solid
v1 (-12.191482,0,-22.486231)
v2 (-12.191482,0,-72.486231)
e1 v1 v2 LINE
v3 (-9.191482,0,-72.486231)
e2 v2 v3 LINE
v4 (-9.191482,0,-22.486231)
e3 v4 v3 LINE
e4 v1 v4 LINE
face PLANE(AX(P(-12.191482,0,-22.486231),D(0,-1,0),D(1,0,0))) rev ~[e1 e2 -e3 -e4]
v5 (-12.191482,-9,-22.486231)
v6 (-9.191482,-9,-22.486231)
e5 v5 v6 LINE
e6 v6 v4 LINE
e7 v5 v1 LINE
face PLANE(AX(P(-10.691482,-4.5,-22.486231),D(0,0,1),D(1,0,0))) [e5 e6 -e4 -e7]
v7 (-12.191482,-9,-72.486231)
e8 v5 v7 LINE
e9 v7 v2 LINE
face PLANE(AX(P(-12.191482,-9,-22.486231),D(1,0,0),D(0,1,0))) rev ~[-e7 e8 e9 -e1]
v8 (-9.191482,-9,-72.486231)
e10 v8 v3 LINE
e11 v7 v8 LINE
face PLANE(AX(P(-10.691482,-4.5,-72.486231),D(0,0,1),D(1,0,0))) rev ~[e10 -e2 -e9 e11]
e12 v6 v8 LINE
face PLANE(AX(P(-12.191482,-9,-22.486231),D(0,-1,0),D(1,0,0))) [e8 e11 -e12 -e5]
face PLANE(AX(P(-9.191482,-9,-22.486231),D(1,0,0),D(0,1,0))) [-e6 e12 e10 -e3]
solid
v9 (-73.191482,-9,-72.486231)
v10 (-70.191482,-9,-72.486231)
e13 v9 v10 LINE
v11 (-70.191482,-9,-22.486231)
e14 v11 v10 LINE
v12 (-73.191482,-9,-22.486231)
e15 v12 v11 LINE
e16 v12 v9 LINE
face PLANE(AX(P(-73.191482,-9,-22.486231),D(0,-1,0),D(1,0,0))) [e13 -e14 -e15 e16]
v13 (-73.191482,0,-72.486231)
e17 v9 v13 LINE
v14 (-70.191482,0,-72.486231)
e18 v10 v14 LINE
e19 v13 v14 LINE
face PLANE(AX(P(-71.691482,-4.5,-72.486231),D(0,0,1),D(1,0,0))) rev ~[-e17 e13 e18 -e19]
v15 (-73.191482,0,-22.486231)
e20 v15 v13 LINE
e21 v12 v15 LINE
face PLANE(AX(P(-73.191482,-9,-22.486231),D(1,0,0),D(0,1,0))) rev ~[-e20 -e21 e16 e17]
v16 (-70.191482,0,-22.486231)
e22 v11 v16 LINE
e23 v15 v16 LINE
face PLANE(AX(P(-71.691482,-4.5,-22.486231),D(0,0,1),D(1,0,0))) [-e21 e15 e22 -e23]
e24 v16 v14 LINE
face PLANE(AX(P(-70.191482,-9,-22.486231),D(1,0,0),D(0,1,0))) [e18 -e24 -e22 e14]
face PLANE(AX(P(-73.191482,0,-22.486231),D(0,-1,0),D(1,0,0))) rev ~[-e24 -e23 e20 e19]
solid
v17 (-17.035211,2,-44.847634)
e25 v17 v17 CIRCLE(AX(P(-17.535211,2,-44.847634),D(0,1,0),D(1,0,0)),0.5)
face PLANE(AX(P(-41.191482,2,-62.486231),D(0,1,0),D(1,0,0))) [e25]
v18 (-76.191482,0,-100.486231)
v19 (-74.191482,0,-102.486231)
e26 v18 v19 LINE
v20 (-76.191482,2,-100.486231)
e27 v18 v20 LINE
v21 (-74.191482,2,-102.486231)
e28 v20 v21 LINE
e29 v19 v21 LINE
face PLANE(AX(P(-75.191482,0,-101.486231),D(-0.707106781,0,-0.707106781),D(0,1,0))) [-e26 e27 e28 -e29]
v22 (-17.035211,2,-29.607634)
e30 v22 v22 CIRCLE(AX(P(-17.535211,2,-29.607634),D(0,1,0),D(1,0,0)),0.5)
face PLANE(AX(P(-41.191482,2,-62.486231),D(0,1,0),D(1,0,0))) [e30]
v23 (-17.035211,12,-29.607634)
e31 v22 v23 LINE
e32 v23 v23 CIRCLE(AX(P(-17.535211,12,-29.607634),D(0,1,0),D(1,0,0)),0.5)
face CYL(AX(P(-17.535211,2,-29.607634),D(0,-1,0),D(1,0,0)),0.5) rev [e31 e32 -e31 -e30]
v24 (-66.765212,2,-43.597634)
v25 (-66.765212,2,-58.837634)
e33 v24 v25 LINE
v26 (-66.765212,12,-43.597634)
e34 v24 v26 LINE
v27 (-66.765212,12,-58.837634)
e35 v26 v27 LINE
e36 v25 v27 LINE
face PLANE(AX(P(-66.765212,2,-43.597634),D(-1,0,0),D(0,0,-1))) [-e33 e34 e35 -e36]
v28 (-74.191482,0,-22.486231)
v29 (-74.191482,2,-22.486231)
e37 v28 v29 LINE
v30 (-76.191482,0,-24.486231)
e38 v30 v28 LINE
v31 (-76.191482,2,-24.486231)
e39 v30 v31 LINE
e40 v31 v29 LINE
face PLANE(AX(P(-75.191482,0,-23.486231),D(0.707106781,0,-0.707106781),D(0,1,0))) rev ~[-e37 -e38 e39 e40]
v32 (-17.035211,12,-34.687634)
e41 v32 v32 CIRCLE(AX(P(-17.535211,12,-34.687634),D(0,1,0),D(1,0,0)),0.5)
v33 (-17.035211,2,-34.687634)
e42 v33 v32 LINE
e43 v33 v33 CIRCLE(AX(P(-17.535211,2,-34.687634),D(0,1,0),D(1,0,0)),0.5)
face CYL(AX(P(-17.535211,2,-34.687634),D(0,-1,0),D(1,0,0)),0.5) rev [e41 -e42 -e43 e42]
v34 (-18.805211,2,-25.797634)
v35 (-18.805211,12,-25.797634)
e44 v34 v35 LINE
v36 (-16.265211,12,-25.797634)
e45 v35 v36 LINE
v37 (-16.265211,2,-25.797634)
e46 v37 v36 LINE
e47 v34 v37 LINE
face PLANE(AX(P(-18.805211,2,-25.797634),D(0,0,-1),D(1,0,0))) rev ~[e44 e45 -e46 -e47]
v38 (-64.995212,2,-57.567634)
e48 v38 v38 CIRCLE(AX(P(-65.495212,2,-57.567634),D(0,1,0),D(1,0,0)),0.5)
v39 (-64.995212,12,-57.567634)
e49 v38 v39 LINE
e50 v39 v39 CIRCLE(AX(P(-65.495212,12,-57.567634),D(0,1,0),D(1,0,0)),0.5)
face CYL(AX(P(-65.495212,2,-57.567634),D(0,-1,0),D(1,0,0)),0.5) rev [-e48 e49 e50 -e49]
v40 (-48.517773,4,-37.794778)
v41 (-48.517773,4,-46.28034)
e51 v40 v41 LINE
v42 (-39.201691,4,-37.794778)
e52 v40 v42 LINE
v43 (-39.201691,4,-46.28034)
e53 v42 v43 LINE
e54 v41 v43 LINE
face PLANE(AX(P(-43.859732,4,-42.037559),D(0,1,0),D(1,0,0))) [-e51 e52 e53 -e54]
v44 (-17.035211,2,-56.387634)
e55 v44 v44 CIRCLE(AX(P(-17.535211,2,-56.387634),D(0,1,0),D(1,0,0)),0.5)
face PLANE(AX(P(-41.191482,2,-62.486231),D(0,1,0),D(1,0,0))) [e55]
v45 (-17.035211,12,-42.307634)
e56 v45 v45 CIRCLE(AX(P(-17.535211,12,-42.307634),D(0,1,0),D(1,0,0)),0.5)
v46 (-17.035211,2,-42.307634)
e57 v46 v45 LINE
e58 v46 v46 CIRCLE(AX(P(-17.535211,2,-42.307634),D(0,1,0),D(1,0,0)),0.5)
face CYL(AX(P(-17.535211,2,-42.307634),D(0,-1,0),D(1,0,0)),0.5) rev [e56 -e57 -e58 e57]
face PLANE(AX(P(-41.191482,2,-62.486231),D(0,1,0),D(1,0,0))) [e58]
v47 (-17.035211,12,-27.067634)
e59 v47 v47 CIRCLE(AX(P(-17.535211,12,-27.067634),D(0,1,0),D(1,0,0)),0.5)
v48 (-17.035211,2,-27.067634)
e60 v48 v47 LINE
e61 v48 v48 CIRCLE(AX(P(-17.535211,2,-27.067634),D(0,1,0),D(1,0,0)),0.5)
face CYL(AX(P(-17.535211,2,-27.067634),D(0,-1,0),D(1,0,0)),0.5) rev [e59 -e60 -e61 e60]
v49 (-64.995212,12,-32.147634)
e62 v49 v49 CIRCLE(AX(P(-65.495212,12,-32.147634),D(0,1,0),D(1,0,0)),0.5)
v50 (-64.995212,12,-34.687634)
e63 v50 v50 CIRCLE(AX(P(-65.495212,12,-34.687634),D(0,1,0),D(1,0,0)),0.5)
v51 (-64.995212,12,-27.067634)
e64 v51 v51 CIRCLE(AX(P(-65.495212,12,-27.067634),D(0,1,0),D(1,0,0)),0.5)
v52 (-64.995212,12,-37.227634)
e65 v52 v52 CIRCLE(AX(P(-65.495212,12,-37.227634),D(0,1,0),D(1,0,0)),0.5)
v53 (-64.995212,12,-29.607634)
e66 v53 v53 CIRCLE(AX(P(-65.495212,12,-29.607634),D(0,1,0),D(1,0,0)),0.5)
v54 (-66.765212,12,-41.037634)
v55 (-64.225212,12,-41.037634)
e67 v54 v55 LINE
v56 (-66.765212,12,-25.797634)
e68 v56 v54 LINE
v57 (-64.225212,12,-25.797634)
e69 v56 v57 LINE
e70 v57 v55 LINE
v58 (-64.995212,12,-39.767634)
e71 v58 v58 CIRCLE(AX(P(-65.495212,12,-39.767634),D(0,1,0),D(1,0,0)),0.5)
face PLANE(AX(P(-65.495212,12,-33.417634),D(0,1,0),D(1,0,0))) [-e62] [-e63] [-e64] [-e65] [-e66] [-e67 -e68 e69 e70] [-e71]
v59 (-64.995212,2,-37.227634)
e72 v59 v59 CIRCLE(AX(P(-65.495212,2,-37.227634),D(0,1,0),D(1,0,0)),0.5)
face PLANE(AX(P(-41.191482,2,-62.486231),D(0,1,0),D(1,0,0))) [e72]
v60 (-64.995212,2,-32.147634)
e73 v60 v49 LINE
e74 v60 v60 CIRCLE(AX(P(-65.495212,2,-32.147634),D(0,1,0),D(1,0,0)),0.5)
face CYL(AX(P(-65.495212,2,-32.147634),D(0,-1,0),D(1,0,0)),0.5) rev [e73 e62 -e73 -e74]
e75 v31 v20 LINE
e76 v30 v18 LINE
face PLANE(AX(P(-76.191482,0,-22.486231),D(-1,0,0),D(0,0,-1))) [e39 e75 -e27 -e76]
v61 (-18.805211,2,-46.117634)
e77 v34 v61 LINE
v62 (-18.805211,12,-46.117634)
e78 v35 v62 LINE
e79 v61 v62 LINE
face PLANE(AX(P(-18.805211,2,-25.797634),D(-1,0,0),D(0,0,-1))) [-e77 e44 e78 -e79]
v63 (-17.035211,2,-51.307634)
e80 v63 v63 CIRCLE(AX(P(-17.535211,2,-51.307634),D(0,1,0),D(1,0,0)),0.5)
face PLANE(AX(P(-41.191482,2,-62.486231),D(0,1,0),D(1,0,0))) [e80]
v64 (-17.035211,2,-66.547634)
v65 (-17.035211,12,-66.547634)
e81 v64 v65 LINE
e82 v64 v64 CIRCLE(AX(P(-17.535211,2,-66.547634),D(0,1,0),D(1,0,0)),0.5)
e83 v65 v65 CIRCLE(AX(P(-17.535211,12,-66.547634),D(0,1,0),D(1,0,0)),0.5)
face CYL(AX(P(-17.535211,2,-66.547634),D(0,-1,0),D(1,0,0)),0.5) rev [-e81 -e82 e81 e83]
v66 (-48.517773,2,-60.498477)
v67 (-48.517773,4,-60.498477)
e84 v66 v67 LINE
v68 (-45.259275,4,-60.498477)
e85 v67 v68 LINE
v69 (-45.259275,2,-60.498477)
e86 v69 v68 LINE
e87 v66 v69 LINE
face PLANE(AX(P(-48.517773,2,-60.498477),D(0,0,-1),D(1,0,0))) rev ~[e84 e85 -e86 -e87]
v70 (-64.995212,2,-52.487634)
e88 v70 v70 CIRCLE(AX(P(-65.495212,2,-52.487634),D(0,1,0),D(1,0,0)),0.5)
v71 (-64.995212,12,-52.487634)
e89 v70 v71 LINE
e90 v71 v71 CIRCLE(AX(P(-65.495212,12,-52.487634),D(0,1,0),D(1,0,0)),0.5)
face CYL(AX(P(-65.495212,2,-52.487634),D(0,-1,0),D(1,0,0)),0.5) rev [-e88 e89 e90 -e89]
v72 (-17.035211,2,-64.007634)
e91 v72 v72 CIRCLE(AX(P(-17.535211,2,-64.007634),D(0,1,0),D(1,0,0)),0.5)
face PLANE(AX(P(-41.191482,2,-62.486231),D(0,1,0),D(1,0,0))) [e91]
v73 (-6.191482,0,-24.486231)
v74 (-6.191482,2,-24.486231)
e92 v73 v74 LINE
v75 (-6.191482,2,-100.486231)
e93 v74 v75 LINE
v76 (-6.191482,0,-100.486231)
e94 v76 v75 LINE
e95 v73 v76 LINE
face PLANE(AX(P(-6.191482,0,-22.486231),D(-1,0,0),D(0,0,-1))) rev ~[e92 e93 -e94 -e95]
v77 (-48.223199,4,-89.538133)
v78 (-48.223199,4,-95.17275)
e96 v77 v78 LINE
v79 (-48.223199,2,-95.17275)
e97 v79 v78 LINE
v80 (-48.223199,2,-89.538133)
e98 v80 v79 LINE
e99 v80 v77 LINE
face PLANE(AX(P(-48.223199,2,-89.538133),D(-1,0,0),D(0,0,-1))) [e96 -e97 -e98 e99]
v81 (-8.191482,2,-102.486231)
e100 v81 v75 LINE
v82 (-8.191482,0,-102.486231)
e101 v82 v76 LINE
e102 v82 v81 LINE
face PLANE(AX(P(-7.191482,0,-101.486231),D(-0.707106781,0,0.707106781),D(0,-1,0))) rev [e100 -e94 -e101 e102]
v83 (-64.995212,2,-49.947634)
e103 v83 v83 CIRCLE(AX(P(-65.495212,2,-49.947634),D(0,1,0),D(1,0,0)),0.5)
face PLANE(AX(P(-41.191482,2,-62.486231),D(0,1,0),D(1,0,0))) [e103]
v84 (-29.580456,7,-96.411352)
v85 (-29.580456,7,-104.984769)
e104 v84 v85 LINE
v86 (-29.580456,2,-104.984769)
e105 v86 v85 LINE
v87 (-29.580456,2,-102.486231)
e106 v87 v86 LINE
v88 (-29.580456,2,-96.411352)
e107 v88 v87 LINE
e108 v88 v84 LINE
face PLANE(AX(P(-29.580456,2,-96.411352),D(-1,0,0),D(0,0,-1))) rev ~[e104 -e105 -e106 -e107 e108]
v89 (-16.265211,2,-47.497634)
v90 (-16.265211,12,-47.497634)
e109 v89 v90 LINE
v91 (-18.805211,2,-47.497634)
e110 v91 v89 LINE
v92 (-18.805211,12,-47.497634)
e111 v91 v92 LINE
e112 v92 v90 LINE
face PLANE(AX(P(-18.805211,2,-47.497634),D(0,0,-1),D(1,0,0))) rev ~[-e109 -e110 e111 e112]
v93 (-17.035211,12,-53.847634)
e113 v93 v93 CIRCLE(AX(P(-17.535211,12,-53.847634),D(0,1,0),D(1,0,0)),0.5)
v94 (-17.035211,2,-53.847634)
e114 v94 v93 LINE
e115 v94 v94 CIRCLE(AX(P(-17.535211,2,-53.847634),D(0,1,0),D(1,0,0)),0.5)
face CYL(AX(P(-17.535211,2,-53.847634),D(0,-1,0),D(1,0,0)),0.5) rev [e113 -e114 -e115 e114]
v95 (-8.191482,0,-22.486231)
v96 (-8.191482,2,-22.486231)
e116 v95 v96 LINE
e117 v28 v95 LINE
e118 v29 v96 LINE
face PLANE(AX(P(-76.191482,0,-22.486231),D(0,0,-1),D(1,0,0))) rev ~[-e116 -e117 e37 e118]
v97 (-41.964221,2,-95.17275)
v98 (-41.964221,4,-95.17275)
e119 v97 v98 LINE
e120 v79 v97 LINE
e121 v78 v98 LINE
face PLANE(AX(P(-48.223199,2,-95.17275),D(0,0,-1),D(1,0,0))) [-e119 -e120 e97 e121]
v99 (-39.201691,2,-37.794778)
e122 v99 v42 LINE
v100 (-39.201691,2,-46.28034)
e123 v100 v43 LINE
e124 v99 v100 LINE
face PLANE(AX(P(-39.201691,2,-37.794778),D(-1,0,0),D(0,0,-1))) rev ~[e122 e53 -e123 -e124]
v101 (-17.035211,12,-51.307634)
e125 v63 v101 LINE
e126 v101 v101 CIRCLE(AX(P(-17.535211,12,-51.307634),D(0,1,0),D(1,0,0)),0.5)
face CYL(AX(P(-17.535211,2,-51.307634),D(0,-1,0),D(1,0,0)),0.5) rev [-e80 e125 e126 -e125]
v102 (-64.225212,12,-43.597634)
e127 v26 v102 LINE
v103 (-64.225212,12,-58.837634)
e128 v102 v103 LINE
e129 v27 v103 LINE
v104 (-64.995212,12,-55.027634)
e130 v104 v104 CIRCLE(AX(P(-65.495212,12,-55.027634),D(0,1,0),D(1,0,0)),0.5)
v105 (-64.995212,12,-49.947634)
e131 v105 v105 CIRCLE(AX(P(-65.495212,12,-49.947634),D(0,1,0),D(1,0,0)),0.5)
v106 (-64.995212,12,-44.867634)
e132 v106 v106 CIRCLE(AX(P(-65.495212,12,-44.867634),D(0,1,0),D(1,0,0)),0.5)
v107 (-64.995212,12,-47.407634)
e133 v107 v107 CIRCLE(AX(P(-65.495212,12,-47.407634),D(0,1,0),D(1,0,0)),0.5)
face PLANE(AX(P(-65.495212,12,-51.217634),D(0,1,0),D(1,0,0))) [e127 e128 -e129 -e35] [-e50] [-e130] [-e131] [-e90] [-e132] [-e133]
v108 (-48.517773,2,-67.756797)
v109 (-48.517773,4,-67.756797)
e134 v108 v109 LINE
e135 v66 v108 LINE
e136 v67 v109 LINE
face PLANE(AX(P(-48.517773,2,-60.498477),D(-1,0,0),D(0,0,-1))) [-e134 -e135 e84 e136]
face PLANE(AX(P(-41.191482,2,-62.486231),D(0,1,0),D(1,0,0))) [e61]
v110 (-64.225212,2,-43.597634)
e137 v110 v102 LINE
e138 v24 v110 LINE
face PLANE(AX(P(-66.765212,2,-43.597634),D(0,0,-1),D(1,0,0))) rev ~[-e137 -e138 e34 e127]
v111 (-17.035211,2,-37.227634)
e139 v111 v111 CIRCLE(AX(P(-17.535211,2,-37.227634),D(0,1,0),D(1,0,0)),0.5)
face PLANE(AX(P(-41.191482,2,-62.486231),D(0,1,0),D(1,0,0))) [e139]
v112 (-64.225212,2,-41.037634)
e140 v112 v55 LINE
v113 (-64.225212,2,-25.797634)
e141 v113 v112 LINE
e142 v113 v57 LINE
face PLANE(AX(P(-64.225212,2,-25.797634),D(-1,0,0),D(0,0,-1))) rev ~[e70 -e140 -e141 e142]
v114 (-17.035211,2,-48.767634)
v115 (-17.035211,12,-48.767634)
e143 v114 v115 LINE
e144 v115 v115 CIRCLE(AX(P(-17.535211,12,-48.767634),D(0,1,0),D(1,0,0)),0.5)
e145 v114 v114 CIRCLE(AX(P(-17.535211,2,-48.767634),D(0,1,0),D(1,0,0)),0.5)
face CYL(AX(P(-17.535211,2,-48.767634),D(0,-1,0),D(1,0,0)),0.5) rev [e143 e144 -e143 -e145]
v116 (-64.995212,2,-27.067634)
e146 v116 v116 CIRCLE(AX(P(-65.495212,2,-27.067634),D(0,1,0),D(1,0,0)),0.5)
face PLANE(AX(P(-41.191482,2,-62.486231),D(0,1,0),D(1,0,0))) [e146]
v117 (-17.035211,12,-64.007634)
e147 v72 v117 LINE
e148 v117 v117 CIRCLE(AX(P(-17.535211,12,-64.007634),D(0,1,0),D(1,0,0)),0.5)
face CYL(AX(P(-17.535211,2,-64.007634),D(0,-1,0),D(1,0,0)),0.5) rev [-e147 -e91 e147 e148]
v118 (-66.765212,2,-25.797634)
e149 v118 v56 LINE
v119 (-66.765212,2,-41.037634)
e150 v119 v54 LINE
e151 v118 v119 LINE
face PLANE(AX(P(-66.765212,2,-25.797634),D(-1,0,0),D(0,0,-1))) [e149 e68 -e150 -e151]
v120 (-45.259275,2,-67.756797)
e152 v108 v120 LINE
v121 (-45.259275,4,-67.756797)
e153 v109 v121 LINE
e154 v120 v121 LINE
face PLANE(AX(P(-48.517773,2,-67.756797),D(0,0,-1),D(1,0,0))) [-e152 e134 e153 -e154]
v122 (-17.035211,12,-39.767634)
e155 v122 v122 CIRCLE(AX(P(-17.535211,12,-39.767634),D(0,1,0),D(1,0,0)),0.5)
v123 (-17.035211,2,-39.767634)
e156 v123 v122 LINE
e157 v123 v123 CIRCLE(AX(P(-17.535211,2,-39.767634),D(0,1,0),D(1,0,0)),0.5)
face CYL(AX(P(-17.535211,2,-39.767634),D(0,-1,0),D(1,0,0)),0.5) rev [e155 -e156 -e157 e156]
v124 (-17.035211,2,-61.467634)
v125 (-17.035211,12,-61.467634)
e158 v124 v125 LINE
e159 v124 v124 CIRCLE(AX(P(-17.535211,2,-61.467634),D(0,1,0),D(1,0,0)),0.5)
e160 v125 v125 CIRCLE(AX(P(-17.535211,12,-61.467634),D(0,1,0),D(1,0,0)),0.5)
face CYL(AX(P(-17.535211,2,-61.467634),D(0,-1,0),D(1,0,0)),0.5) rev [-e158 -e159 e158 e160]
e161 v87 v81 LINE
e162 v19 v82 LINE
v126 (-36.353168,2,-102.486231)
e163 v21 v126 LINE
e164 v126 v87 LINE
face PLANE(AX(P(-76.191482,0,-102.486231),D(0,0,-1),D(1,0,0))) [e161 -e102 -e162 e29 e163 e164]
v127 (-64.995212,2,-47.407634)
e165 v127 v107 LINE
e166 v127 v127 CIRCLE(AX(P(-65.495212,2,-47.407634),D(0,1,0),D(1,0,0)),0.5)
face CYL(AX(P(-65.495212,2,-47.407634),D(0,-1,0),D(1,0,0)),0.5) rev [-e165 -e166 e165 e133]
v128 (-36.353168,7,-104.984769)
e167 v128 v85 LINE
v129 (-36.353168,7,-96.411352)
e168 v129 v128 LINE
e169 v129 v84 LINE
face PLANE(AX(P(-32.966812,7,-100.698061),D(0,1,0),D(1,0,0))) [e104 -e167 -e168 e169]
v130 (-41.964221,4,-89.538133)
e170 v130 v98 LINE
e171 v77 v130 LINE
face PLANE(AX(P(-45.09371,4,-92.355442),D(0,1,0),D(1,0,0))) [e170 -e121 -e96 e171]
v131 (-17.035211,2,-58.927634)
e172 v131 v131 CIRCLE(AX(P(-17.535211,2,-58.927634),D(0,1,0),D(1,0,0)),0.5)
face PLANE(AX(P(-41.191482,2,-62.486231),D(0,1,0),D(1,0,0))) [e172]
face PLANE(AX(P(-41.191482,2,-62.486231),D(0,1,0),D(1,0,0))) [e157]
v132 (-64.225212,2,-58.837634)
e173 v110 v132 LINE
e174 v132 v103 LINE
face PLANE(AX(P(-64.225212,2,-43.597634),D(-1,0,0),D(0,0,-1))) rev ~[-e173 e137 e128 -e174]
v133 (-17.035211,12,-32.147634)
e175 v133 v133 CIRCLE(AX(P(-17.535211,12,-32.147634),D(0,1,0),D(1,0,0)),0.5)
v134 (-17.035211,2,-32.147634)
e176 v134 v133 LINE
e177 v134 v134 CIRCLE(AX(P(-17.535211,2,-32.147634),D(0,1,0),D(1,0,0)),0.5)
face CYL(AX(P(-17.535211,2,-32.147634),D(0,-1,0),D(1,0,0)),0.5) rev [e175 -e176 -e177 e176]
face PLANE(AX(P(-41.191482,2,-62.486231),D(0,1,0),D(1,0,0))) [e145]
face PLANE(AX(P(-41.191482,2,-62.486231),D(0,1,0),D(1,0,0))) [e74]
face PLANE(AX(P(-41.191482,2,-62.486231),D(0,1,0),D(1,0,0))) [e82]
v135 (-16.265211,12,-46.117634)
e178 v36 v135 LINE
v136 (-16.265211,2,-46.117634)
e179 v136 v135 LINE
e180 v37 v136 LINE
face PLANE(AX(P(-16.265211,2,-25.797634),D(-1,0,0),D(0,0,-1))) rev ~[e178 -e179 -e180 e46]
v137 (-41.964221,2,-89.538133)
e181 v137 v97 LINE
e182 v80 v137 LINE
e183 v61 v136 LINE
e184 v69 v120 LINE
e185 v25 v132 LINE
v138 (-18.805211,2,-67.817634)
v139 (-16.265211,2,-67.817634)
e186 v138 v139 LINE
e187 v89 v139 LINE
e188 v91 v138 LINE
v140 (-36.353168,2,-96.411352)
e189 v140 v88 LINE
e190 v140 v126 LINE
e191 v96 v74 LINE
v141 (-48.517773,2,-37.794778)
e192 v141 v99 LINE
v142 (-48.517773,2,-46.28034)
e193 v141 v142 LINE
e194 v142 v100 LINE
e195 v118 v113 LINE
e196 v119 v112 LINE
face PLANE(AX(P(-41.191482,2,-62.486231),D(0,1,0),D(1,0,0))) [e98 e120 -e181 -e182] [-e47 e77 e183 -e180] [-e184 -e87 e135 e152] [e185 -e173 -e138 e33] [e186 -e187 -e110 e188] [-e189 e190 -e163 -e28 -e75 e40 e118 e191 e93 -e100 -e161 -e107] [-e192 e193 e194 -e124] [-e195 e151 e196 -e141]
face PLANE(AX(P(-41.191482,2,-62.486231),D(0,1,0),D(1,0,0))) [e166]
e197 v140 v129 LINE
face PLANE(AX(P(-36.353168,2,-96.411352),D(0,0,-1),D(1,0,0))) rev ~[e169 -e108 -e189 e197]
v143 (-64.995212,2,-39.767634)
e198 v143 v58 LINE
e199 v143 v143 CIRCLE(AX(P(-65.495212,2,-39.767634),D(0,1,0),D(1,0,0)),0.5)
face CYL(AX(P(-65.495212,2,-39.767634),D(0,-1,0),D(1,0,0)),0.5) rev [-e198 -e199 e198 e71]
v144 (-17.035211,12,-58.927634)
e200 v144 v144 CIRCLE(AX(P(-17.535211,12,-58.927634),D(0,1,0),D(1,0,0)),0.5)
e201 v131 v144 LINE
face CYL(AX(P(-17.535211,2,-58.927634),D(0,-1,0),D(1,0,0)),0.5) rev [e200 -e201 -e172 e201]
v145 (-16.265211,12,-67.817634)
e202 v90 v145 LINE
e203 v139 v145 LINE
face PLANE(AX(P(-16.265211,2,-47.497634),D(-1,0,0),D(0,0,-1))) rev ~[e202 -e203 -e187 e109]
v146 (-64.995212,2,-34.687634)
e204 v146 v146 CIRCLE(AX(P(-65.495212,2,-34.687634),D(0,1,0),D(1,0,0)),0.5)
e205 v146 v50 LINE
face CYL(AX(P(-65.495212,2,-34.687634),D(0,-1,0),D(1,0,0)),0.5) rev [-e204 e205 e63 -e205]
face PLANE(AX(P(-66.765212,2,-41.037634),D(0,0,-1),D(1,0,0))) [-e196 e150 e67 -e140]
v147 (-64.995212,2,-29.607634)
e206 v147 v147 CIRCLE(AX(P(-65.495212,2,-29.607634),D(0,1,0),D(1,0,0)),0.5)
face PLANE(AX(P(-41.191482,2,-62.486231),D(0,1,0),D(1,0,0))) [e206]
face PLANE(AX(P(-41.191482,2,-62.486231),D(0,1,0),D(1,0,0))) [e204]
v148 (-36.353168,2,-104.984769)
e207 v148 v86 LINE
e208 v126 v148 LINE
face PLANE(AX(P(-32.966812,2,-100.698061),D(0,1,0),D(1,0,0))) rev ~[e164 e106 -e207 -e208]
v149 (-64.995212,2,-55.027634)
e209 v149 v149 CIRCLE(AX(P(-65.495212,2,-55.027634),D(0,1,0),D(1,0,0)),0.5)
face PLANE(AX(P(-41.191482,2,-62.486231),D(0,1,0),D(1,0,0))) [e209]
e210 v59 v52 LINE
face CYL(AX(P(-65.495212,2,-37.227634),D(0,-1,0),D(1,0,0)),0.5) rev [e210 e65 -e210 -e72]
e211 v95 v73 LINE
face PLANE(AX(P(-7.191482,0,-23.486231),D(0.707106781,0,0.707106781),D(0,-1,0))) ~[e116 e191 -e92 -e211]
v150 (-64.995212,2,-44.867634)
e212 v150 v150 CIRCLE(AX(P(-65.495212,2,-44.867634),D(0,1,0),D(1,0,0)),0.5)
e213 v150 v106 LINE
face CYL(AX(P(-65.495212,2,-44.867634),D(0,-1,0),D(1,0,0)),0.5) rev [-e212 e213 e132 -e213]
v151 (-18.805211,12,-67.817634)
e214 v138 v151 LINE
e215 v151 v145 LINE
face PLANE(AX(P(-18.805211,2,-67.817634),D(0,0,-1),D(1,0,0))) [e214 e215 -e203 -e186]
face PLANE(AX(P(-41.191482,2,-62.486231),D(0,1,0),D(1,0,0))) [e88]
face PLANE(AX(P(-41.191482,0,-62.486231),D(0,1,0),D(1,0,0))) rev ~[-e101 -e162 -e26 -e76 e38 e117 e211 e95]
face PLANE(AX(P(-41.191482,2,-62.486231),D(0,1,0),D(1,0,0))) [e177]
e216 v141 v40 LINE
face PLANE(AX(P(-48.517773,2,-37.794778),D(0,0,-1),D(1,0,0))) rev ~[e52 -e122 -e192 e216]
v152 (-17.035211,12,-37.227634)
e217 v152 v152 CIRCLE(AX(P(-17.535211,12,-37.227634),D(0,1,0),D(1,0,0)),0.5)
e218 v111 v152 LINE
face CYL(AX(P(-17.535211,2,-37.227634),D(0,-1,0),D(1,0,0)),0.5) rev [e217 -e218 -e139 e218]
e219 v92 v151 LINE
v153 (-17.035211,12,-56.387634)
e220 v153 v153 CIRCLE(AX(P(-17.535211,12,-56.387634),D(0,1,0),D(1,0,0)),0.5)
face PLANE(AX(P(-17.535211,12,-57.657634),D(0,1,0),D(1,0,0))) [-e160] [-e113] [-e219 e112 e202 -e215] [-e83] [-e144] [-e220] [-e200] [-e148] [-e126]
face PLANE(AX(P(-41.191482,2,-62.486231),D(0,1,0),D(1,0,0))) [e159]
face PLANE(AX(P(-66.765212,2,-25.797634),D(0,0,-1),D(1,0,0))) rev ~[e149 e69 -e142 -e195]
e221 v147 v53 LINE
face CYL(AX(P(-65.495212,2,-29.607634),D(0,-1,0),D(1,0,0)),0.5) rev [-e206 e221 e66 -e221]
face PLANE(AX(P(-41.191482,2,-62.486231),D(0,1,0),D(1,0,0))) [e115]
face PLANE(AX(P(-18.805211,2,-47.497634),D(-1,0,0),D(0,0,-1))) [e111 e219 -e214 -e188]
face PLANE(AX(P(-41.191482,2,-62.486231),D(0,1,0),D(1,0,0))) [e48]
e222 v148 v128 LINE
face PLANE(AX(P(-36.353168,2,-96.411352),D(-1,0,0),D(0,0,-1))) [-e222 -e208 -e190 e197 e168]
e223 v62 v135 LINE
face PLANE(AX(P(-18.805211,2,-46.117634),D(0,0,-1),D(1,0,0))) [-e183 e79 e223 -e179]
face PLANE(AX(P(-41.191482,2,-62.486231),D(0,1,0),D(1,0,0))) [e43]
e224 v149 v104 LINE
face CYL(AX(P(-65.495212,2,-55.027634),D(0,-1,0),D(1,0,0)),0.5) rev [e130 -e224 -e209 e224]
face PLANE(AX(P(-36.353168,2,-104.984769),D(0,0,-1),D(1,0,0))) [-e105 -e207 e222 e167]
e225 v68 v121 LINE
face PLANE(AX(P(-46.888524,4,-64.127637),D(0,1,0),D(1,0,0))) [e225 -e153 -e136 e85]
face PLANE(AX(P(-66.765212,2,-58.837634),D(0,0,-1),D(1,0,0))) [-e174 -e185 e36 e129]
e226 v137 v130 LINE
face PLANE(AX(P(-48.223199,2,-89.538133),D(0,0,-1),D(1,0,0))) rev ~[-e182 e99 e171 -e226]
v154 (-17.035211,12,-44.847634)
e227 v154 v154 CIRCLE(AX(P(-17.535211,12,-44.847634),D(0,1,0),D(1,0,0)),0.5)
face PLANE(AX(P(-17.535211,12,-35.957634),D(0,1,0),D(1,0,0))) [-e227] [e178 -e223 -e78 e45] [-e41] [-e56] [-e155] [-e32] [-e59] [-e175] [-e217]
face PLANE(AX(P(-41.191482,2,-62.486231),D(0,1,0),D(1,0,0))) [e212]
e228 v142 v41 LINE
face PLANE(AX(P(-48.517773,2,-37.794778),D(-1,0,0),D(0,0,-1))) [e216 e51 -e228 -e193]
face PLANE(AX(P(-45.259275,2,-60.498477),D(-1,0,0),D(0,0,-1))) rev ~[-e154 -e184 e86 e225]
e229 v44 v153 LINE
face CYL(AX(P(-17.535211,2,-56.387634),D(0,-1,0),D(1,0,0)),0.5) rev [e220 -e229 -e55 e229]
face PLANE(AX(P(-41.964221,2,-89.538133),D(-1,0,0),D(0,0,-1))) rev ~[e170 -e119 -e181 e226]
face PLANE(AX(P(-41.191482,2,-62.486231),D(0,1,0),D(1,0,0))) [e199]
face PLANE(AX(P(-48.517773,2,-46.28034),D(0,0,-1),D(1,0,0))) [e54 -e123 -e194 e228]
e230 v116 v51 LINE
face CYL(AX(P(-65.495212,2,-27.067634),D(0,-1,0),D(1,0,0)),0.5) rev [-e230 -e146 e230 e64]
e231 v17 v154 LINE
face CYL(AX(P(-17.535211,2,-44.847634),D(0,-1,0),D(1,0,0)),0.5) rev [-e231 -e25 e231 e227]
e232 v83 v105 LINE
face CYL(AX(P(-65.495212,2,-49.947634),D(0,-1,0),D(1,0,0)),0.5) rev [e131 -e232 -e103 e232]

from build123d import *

# Parameters (mm, degrees)
SKETCH1_W             = 70
SKETCH1_H             = 80
BOSS_EXTRUDE1_DEPTH   = 2
SKETCH3_W             = 3
SKETCH3_H             = 9
BOSS_EXTRUDE4_DEPTH   = 50
BOSS_EXTRUDE4_2_DEPTH = 50
SKETCH2_W             = 2.54
SKETCH2_H             = 15.24
SKETCH2_R             = 0.5
SKETCH2_H_2           = 20.32
BOSS_EXTRUDE5_DEPTH   = 10
SKETCH4_W             = 6.772712715
SKETCH4_H             = 8.573417308
BOSS_EXTRUDE6_DEPTH   = 5
SKETCH5_W             = 9.316082399
SKETCH5_H             = 8.485562272
SKETCH5_W_2           = 3.258498045
SKETCH5_H_2           = 7.258320338
SKETCH5_W_3           = 6.258978231
SKETCH5_H_3           = 5.634617383
BOSS_EXTRUDE7_DEPTH   = 2
CHAMFER1_SIZE         = 2


with BuildPart() as part:
    # Sketch1 → Boss-Extrude1 (new body)
    with BuildSketch(Plane(origin=(0, 0, 0), x_dir=(1, 0, 0), z_dir=(0, 1, 0))):
        with Locations((-41.191481692, 62.486230982)):
            Rectangle(SKETCH1_W, SKETCH1_H)
    extrude(amount=BOSS_EXTRUDE1_DEPTH)

    # Sketch2 → Boss-Extrude5 (add)
    with BuildSketch(Plane(origin=(0, 2, 0), x_dir=(1, 0, 0), z_dir=(0, 1, 0))):
        with Locations((-65.495211753, 51.217634077)):
            Rectangle(SKETCH2_W, SKETCH2_H)
        with Locations((-65.495211753, 57.567634077)):
            Circle(SKETCH2_R, mode=Mode.SUBTRACT)
        with Locations((-65.495211753, 55.027634077)):
            Circle(SKETCH2_R, mode=Mode.SUBTRACT)
        with Locations((-65.495211753, 52.487634077)):
            Circle(SKETCH2_R, mode=Mode.SUBTRACT)
        with Locations((-65.495211753, 49.947634077)):
            Circle(SKETCH2_R, mode=Mode.SUBTRACT)
        with Locations((-65.495211753, 47.407634077)):
            Circle(SKETCH2_R, mode=Mode.SUBTRACT)
        with Locations((-65.495211753, 44.867634077)):
            Circle(SKETCH2_R, mode=Mode.SUBTRACT)
        with Locations((-65.495211753, 33.417634117)):
            Rectangle(SKETCH2_W, SKETCH2_H)
        with Locations((-65.495211753, 39.767634117)):
            Circle(SKETCH2_R, mode=Mode.SUBTRACT)
        with Locations((-65.495211753, 37.227634117)):
            Circle(SKETCH2_R, mode=Mode.SUBTRACT)
        with Locations((-65.495211753, 34.687634117)):
            Circle(SKETCH2_R, mode=Mode.SUBTRACT)
        with Locations((-65.495211753, 32.147634117)):
            Circle(SKETCH2_R, mode=Mode.SUBTRACT)
        with Locations((-65.495211753, 29.607634117)):
            Circle(SKETCH2_R, mode=Mode.SUBTRACT)
        with Locations((-65.495211753, 27.067634117)):
            Circle(SKETCH2_R, mode=Mode.SUBTRACT)
        with Locations((-17.535211153, 57.657633897)):
            Rectangle(SKETCH2_W, SKETCH2_H_2)
        with Locations((-17.535211153, 66.547633897)):
            Circle(SKETCH2_R, mode=Mode.SUBTRACT)
        with Locations((-17.535211153, 64.007633897)):
            Circle(SKETCH2_R, mode=Mode.SUBTRACT)
        with Locations((-17.535211153, 61.467633897)):
            Circle(SKETCH2_R, mode=Mode.SUBTRACT)
        with Locations((-17.535211153, 58.927633897)):
            Circle(SKETCH2_R, mode=Mode.SUBTRACT)
        with Locations((-17.535211153, 56.387633897)):
            Circle(SKETCH2_R, mode=Mode.SUBTRACT)
        with Locations((-17.535211153, 53.847633897)):
            Circle(SKETCH2_R, mode=Mode.SUBTRACT)
        with Locations((-17.535211153, 51.307633897)):
            Circle(SKETCH2_R, mode=Mode.SUBTRACT)
        with Locations((-17.535211153, 48.767633897)):
            Circle(SKETCH2_R, mode=Mode.SUBTRACT)
        with Locations((-17.535211153, 35.957634117)):
            Rectangle(SKETCH2_W, SKETCH2_H_2)
        with Locations((-17.535211153, 44.847634117)):
            Circle(SKETCH2_R, mode=Mode.SUBTRACT)
        with Locations((-17.535211153, 42.307634117)):
            Circle(SKETCH2_R, mode=Mode.SUBTRACT)
        with Locations((-17.535211153, 39.767634117)):
            Circle(SKETCH2_R, mode=Mode.SUBTRACT)
        with Locations((-17.535211153, 37.227634117)):
            Circle(SKETCH2_R, mode=Mode.SUBTRACT)
        with Locations((-17.535211153, 34.687634117)):
            Circle(SKETCH2_R, mode=Mode.SUBTRACT)
        with Locations((-17.535211153, 32.147634117)):
            Circle(SKETCH2_R, mode=Mode.SUBTRACT)
        with Locations((-17.535211153, 29.607634117)):
            Circle(SKETCH2_R, mode=Mode.SUBTRACT)
        with Locations((-17.535211153, 27.067634117)):
            Circle(SKETCH2_R, mode=Mode.SUBTRACT)
    extrude(amount=BOSS_EXTRUDE5_DEPTH)

    # Sketch4 → Boss-Extrude6 (add)
    with BuildSketch(Plane(origin=(0, 2, 0), x_dir=(1, 0, 0), z_dir=(0, 1, 0))):
        with Locations((-32.966811874, 100.698060504)):
            Rectangle(SKETCH4_W, SKETCH4_H)
    extrude(amount=BOSS_EXTRUDE6_DEPTH)

    # Sketch5 → Boss-Extrude7 (add)
    with BuildSketch(Plane(origin=(0, 2, 0), x_dir=(1, 0, 0), z_dir=(0, 1, 0))):
        with Locations((-43.859732146, 42.037559089)):
            Rectangle(SKETCH5_W, SKETCH5_H)
        with Locations((-46.888524323, 64.127636927)):
            Rectangle(SKETCH5_W_2, SKETCH5_H_2)
        with Locations((-45.093709827, 92.355441802)):
            Rectangle(SKETCH5_W_3, SKETCH5_H_3)
    extrude(amount=BOSS_EXTRUDE7_DEPTH)

    # Chamfer1
    chamfer1_edges = [part.edges().sort_by_distance(p)[0] for p in [
        (-76.191481692, 1, -102.486230982),
        (-6.191481692, 1, -102.486230982),
        (-6.191481692, 1, -22.486230982),
        (-76.191481692, 1, -22.486230982),
    ]]
    chamfer(chamfer1_edges, length=CHAMFER1_SIZE)


with BuildPart() as body_2:
    # Sketch3 → Boss-Extrude4 (new body)
    with BuildSketch(Plane.XY.offset(-22.486230982)):
        with Locations((-71.691481692, -4.5)):
            Rectangle(SKETCH3_W, SKETCH3_H)
    extrude(amount=-BOSS_EXTRUDE4_DEPTH)


with BuildPart() as body_3:
    # Sketch3 → Boss-Extrude4 2 (new body)
    with BuildSketch(Plane.XY.offset(-22.486230982)):
        with Locations((-10.691481692, -4.5)):
            Rectangle(SKETCH3_W, SKETCH3_H)
    extrude(amount=-BOSS_EXTRUDE4_2_DEPTH)


solid = Compound([part.part, body_2.part, body_3.part])
